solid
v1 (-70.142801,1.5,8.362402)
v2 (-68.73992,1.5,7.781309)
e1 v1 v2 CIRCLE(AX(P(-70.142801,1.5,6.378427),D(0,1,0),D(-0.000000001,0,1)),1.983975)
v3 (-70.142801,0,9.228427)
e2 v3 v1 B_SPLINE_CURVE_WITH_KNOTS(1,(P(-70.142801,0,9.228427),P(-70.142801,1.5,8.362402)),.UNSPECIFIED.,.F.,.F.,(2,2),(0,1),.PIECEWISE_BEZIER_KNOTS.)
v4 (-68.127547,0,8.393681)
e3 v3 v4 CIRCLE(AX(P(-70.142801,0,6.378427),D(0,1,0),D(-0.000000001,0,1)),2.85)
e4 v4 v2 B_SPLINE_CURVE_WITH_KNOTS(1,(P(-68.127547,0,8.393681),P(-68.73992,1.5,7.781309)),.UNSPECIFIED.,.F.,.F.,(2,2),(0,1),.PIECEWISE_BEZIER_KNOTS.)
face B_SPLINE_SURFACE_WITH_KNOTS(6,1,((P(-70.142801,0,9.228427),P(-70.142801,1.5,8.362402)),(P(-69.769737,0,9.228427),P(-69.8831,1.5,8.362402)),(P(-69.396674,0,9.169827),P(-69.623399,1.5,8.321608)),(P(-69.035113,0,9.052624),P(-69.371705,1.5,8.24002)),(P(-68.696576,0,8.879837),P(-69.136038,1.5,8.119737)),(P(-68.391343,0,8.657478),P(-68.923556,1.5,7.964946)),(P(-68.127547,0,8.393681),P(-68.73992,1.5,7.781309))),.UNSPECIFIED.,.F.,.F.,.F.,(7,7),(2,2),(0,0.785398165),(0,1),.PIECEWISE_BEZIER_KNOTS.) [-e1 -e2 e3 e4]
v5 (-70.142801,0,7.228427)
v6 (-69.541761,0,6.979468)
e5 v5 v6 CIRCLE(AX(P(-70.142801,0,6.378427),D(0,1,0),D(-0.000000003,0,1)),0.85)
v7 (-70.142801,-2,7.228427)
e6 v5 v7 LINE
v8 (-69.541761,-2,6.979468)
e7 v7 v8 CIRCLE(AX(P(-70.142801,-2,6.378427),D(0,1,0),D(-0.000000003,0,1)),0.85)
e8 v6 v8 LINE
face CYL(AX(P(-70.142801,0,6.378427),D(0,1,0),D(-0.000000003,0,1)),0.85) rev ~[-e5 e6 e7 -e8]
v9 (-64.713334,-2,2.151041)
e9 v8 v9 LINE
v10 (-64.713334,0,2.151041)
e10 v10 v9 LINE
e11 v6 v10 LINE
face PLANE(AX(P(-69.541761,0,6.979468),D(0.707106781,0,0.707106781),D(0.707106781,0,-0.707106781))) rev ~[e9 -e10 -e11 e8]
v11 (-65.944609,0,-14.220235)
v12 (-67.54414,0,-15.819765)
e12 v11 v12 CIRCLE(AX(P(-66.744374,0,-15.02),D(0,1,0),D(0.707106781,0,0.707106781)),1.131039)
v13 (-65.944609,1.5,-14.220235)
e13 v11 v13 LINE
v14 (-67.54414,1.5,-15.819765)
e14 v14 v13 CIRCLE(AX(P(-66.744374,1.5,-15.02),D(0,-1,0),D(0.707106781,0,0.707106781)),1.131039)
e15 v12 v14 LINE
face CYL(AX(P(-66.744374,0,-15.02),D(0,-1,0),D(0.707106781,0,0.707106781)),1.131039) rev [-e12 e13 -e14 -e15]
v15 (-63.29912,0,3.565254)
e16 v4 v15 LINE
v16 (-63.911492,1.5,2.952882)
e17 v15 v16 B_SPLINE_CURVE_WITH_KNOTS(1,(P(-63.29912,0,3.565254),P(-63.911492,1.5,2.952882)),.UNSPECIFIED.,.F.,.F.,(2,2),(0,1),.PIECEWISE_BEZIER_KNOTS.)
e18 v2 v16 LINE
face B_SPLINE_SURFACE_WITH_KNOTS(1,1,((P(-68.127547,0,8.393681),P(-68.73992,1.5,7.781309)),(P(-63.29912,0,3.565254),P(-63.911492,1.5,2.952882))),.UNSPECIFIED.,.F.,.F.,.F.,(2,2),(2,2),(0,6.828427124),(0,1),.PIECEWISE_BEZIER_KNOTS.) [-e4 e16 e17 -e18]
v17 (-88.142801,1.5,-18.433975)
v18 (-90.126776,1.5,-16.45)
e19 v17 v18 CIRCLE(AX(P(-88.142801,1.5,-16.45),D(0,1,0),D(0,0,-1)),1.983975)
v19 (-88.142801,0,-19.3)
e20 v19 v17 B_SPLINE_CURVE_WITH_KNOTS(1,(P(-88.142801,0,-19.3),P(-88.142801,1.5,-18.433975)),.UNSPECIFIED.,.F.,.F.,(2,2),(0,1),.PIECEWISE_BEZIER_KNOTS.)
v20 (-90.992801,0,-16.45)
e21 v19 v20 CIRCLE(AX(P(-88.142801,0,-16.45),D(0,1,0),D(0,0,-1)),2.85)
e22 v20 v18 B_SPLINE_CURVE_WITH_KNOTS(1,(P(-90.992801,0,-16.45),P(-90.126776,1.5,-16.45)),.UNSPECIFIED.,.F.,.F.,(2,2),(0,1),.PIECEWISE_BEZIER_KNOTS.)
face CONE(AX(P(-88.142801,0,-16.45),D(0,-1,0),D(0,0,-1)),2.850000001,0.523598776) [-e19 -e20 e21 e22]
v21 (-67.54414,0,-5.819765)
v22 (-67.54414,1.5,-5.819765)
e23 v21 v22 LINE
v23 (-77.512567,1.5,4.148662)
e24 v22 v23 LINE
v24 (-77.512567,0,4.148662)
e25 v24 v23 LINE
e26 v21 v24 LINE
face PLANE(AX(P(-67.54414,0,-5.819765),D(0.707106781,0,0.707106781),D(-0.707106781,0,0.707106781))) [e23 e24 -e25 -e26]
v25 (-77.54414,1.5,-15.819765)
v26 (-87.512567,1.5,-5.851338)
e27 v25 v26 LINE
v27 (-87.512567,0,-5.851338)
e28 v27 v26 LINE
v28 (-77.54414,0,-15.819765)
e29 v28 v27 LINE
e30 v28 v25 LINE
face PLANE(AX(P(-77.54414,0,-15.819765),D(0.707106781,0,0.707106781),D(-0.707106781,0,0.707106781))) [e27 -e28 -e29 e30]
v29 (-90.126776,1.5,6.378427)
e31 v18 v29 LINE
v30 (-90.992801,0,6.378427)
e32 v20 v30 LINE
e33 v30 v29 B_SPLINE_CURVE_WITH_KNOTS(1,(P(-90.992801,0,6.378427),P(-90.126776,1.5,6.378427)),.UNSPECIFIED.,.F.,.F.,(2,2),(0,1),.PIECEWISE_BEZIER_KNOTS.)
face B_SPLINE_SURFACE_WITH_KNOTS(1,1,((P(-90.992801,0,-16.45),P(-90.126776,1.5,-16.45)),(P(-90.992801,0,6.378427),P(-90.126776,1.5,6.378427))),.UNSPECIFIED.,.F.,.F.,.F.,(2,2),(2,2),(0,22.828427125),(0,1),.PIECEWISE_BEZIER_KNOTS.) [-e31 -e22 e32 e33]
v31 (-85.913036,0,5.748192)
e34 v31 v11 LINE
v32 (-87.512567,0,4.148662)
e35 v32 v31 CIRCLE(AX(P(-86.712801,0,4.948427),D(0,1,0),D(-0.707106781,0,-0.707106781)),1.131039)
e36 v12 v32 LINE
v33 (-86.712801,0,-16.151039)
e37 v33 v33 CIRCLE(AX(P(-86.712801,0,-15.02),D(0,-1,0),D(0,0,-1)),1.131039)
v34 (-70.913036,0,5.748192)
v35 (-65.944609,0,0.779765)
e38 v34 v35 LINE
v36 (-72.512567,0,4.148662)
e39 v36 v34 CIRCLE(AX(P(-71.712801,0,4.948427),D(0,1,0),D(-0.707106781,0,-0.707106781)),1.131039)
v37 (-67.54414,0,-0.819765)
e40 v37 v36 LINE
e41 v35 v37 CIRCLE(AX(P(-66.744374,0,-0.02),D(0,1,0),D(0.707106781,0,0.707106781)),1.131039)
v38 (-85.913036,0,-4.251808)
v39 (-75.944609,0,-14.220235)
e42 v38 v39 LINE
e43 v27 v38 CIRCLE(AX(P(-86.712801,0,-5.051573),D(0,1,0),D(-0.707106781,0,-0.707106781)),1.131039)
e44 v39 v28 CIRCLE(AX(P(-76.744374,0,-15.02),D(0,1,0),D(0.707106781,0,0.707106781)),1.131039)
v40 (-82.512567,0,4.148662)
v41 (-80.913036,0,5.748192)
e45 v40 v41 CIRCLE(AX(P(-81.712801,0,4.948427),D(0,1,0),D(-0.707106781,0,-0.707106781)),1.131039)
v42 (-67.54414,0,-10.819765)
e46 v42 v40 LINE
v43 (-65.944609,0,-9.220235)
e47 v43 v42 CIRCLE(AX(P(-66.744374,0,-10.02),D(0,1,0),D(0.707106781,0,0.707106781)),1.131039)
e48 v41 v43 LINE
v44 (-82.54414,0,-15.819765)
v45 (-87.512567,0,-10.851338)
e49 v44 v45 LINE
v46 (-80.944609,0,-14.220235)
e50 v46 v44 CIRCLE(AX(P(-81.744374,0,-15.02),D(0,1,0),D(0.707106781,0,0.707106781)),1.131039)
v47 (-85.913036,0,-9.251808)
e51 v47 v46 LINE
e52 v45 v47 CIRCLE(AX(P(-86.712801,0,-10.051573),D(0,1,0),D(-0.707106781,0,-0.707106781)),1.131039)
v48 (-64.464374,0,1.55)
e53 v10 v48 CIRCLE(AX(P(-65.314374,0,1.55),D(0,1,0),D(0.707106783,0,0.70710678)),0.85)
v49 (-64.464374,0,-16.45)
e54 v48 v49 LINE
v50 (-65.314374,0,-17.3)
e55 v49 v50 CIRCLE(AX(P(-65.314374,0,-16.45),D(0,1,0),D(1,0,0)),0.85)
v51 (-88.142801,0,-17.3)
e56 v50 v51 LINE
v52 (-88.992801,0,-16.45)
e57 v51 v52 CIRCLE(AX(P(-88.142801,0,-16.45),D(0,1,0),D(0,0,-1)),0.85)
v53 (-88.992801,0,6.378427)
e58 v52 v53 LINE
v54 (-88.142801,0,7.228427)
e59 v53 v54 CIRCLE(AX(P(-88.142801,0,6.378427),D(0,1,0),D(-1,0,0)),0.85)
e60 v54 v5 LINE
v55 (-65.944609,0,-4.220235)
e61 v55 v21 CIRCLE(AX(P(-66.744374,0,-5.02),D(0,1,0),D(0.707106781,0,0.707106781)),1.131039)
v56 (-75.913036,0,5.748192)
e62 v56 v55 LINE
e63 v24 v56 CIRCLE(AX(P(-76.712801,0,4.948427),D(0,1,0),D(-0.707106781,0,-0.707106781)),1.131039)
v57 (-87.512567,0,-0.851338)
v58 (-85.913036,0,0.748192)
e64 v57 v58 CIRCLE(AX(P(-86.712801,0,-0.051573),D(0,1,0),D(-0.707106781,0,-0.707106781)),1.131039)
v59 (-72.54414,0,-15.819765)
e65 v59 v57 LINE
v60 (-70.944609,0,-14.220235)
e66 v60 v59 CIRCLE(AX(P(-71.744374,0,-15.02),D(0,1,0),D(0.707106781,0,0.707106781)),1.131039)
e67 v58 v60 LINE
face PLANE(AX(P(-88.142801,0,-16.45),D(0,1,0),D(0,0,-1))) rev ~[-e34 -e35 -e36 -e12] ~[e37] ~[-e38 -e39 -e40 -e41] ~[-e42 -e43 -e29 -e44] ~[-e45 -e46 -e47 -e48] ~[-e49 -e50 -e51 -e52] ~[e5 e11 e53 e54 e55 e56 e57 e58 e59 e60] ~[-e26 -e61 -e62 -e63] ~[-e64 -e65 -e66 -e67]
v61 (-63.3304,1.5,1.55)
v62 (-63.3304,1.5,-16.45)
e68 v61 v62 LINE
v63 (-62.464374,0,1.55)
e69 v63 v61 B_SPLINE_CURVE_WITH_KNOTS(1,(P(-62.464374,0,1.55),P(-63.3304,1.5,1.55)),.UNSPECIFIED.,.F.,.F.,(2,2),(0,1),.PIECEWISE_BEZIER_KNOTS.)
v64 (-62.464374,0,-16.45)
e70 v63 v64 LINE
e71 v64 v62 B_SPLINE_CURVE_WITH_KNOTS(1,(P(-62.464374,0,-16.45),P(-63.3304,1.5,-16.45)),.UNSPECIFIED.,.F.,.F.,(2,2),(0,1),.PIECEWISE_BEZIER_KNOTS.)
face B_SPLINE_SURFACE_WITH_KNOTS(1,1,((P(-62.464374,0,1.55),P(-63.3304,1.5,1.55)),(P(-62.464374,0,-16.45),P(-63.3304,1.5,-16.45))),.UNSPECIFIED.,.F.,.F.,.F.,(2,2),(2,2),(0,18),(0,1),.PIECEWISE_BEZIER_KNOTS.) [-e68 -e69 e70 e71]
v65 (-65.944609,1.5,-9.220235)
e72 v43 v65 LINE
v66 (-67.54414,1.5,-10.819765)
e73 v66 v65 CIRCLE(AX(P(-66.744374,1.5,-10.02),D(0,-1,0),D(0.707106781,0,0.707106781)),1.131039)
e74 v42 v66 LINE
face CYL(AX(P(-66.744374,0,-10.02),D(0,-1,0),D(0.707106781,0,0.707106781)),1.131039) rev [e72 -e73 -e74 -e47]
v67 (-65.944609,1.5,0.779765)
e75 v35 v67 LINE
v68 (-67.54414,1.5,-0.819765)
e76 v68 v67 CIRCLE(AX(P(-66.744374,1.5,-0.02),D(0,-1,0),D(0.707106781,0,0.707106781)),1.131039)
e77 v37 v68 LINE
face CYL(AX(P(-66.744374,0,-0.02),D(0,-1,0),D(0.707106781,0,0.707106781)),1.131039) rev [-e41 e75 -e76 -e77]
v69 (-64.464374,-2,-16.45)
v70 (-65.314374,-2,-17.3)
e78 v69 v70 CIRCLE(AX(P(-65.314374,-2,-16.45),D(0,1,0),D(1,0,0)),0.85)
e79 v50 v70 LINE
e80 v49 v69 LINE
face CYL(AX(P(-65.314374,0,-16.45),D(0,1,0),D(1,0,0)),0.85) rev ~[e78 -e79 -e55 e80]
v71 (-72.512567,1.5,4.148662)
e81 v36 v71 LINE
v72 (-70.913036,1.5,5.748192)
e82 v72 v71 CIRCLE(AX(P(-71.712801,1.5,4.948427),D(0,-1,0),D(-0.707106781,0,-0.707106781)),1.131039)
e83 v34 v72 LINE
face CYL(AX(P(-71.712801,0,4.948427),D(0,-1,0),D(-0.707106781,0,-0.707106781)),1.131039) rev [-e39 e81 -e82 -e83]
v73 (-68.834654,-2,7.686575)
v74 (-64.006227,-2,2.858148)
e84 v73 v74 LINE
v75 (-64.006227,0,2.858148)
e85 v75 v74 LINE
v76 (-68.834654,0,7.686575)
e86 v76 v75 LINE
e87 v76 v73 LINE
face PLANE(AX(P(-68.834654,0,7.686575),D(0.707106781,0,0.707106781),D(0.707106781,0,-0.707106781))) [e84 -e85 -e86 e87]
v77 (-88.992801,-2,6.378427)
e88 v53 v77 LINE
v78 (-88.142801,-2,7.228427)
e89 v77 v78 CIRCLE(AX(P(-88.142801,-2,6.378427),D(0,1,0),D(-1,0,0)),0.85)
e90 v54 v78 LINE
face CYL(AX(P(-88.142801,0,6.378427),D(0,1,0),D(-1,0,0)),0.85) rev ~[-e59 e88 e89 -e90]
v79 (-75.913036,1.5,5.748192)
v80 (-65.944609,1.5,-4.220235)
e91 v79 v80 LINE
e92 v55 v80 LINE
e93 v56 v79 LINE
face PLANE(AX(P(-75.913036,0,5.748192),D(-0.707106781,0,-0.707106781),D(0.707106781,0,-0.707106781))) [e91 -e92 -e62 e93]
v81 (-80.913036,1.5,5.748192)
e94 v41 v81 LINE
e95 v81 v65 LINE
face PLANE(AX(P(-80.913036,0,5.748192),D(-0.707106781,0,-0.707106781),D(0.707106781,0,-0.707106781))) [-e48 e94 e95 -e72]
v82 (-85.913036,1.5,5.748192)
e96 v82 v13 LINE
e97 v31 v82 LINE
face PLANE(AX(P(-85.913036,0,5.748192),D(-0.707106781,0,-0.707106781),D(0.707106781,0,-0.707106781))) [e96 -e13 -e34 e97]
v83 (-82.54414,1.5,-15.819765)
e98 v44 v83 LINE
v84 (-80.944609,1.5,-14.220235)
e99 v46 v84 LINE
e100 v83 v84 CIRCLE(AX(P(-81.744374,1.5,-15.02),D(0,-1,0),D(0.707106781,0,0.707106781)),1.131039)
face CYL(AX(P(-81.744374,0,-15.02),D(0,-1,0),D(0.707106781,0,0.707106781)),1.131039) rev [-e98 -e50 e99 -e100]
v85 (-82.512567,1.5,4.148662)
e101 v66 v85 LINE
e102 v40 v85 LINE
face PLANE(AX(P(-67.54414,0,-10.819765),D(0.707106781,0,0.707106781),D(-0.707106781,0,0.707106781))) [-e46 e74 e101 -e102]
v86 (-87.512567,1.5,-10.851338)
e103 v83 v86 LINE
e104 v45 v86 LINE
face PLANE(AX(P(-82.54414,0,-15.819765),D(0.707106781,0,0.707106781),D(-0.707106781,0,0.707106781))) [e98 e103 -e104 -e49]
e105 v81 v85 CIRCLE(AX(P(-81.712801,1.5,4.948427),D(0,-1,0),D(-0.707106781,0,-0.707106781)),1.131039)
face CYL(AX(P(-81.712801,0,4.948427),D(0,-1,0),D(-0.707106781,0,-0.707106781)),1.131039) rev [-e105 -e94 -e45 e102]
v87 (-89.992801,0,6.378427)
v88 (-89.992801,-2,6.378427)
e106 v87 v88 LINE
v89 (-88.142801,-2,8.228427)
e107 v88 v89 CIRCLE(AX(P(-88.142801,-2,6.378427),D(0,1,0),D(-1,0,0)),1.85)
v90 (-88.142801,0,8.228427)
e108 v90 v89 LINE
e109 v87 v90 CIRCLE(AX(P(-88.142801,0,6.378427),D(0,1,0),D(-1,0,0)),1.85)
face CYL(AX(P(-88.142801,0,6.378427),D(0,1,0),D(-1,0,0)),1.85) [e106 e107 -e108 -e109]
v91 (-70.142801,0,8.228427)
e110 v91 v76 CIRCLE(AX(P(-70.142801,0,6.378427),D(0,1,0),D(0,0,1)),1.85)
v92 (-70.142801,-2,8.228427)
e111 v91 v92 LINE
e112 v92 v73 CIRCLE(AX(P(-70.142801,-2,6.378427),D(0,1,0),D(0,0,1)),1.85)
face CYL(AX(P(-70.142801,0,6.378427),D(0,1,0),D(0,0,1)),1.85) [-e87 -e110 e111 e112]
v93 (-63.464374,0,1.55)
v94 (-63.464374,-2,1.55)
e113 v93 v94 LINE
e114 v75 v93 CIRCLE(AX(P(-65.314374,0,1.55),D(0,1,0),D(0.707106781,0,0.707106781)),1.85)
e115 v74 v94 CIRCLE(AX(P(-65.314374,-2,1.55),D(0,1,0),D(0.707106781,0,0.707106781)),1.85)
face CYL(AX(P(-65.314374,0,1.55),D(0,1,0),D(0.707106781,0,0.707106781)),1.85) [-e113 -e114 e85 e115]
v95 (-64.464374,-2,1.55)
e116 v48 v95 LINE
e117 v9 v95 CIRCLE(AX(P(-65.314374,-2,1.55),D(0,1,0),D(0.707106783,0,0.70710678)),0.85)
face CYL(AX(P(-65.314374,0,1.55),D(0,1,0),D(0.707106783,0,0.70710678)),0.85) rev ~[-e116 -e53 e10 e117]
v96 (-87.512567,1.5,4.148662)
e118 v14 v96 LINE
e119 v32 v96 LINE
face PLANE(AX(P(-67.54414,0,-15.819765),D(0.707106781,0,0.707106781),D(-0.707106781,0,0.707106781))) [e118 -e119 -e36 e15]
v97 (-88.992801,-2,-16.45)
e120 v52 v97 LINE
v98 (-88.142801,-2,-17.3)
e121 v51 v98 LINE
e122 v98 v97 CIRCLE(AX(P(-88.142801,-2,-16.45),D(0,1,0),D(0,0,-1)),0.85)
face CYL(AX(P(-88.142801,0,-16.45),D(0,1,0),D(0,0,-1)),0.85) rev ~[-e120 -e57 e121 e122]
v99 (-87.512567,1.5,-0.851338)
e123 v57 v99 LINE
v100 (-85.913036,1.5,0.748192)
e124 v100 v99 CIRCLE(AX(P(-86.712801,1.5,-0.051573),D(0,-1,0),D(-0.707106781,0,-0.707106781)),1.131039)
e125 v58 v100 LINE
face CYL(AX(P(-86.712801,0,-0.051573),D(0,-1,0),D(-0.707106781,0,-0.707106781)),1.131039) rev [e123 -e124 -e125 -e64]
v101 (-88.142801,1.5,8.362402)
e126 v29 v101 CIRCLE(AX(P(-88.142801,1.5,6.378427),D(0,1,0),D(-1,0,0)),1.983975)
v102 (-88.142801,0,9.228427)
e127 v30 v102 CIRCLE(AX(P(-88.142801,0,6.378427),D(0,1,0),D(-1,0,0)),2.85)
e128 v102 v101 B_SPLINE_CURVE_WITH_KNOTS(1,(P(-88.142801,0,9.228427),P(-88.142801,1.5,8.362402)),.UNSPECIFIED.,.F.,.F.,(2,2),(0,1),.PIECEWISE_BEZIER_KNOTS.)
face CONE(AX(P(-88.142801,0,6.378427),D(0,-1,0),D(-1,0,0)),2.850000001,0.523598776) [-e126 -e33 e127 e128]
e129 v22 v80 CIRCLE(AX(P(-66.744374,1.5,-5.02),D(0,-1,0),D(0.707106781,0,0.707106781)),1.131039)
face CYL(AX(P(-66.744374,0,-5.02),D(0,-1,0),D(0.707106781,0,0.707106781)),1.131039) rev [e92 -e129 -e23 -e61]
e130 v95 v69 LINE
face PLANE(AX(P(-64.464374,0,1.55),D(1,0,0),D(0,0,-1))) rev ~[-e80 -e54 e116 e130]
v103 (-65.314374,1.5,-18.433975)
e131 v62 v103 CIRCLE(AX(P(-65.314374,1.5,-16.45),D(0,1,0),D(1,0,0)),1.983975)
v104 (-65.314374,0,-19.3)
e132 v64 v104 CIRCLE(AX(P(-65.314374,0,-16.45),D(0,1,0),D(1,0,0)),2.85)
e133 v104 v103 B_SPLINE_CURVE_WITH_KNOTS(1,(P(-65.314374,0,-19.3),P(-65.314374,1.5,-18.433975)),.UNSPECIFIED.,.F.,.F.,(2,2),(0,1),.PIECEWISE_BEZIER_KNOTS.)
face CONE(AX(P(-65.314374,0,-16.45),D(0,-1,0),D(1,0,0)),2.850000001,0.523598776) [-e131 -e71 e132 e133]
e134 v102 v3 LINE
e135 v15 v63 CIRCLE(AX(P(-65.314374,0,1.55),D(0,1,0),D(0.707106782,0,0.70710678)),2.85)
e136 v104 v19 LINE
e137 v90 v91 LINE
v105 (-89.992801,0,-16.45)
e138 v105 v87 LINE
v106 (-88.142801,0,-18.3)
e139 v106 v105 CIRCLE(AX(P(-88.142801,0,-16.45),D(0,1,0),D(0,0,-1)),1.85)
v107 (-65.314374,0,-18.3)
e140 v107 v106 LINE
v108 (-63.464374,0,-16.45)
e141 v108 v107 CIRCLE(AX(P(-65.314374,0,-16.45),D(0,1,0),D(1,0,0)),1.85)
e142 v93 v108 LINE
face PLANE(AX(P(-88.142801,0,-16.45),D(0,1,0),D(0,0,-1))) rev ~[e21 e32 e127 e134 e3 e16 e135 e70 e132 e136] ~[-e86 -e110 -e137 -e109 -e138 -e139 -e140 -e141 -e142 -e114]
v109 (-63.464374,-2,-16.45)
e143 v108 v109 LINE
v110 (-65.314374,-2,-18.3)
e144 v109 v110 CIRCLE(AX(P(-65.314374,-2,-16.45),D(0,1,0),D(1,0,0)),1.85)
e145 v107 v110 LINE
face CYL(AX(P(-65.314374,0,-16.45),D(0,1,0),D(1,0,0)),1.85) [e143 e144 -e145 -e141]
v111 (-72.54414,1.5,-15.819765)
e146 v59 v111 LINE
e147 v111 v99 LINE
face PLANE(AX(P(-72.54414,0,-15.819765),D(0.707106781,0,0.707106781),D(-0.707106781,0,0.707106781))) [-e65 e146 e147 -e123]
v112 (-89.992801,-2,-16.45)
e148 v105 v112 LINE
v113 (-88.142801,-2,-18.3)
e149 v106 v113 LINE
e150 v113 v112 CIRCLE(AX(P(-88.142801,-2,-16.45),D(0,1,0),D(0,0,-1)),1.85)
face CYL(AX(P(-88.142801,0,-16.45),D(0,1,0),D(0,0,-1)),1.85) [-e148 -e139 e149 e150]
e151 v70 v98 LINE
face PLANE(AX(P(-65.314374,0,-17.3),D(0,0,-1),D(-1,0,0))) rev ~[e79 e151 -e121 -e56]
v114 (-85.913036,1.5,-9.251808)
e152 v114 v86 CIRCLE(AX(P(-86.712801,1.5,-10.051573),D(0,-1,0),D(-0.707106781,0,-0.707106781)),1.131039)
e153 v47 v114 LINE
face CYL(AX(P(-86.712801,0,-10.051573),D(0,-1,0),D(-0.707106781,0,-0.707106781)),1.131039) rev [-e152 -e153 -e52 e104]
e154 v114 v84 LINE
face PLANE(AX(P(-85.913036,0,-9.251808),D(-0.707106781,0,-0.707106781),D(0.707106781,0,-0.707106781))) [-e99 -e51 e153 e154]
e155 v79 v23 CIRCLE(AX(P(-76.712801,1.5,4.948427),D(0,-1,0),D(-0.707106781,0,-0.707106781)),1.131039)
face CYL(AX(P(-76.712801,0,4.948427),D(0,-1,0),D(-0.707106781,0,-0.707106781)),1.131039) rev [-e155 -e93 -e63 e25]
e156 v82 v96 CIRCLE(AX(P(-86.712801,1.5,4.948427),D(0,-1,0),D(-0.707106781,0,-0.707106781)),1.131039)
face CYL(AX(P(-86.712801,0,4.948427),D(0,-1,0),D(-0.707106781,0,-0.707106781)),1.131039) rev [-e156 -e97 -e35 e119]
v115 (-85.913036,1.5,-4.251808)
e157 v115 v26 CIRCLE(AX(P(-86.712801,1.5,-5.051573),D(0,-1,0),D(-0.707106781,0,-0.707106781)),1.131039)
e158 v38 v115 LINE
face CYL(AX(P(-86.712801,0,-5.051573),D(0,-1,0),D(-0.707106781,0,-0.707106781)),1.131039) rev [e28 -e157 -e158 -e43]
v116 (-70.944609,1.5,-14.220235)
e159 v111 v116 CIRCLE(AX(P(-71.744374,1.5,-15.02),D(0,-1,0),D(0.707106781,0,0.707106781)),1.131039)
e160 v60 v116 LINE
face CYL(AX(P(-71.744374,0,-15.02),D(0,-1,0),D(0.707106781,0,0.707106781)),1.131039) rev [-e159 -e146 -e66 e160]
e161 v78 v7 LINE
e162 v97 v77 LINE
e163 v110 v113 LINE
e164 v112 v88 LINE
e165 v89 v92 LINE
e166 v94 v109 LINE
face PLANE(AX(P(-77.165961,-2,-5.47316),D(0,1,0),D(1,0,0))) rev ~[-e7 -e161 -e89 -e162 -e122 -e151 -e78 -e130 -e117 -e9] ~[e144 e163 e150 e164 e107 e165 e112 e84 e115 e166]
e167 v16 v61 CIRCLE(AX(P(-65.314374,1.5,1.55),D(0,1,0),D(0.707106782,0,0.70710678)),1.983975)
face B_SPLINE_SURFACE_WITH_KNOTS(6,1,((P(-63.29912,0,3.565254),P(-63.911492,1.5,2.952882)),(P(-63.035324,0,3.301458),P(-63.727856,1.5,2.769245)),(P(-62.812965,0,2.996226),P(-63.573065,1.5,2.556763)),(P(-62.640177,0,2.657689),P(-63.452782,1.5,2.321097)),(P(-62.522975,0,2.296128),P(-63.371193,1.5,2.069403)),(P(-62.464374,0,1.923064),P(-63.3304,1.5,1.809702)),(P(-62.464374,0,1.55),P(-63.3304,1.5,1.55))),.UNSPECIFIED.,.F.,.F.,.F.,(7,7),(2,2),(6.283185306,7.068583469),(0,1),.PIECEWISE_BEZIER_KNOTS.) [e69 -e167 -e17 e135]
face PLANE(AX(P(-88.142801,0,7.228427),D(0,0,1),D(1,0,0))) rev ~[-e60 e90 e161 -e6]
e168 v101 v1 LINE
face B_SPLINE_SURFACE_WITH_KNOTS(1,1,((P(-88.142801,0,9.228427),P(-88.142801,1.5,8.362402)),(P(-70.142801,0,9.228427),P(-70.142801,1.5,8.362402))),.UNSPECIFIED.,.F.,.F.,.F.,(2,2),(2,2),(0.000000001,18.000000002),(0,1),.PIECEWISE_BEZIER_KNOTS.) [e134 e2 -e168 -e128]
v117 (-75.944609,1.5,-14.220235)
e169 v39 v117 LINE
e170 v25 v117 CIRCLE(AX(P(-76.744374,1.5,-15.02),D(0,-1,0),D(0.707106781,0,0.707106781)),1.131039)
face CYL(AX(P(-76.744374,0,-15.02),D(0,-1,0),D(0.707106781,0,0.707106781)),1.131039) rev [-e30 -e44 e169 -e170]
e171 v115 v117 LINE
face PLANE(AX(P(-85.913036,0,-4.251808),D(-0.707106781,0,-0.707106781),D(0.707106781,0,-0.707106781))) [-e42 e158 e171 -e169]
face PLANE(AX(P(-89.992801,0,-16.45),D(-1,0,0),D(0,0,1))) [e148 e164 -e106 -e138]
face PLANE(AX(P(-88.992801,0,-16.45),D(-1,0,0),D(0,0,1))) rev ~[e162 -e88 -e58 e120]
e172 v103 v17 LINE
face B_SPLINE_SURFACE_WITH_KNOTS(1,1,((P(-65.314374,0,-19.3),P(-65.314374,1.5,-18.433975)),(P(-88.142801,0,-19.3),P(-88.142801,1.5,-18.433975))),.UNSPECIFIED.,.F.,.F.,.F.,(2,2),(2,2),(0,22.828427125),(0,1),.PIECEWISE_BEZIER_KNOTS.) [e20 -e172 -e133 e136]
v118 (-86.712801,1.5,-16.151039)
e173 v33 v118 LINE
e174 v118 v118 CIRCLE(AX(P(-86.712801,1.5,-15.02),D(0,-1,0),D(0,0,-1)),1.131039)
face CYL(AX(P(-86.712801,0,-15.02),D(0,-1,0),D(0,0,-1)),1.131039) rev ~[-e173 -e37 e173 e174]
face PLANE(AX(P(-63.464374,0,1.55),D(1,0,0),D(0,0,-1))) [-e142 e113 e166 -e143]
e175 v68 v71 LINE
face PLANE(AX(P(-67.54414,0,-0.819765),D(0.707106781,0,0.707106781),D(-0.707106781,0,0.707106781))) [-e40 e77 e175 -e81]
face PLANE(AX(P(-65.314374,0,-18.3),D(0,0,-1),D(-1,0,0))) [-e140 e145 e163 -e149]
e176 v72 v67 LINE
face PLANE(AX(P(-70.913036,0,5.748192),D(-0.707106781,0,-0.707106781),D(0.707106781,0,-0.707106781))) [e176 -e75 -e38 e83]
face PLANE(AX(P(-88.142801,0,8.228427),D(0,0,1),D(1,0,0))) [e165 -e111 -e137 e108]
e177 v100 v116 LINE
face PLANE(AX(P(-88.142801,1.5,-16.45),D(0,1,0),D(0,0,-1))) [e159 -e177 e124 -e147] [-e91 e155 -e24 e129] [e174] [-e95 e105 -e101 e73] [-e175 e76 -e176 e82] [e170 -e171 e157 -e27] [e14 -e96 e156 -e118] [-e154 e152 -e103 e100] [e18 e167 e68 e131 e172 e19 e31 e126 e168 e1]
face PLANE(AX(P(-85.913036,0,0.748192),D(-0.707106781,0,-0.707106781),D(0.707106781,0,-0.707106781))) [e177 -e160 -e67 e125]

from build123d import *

# Parameters (mm, degrees)
EXTRUDE_1_DEPTH     = 2
EXTRUDE_2_DEPTH     = 1.5
EXTRUDE_2_TAPER     = 30
CUT_EXTRUDE_1_REACH = 95.039
SKETCH_3_R          = 1.131038805


with BuildPart() as part:
    # 草图1 → 凸台-拉伸1 (new body)
    with BuildSketch(Plane(origin=(0, 0, 0), x_dir=(1, 0, 0), z_dir=(0, 1, 0))):
        with BuildLine():
            Line((-65.314374304, 18.3), (-88.142801429, 18.3))
            ThreePointArc((-88.142801429, 18.3), (-89.450948974, 17.758147545), (-89.992801429, 16.45))
            Line((-89.992801429, 16.45), (-89.992801429, -6.378427125))
            ThreePointArc((-89.992801429, -6.378427125), (-89.450948974, -7.68657467), (-88.142801429, -8.228427125))
            Line((-88.142801429, -8.228427125), (-70.142801429, -8.228427125))
            ThreePointArc((-70.142801429, -8.228427125), (-69.434837079, -8.08760426), (-68.834653884, -7.68657467))
            Line((-68.834653884, -7.68657467), (-64.006226759, -2.858147545))
            ThreePointArc((-64.006226759, -2.858147545), (-63.605197169, -2.25796435), (-63.464374304, -1.55))
            Line((-63.464374304, -1.55), (-63.464374304, 16.45))
            ThreePointArc((-63.464374304, 16.45), (-64.006226759, 17.758147545), (-65.314374304, 18.3))
        make_face()
        with BuildLine():
            Line((-65.314374304, 17.3), (-88.142801429, 17.3))
            ThreePointArc((-88.142801429, 17.3), (-88.743842193, 17.051040764), (-88.992801429, 16.45))
            Line((-88.992801429, 16.45), (-88.992801429, -6.378427125))
            ThreePointArc((-88.992801429, -6.378427125), (-88.743842193, -6.979467889), (-88.142801429, -7.228427125))
            Line((-88.142801429, -7.228427125), (-70.142801429, -7.228427125))
            ThreePointArc((-70.142801429, -7.228427125), (-69.817520511, -7.163724728), (-69.541760665, -6.979467889))
            Line((-69.541760665, -6.979467889), (-64.71333354, -2.151040764))
            ThreePointArc((-64.71333354, -2.151040764), (-64.529076702, -1.875280918), (-64.464374304, -1.55))
            Line((-64.464374304, -1.55), (-64.464374304, 16.45))
            ThreePointArc((-64.464374304, 16.45), (-64.71333354, 17.051040764), (-65.314374304, 17.3))
        make_face(mode=Mode.SUBTRACT)
    extrude(amount=-EXTRUDE_1_DEPTH)

    # 草图2 → 凸台-拉伸2 (add)
    with BuildSketch(Plane(origin=(0, 0, 0), x_dir=(1, 0, 0), z_dir=(0, 1, 0))):
        with BuildLine():
            Line((-65.314374304, 19.3), (-88.142801429, 19.3))
            ThreePointArc((-88.142801429, 19.3), (-90.158055755, 18.465254326), (-90.992801429, 16.45))
            Line((-90.992801429, 16.45), (-90.992801429, -6.378427125))
            ThreePointArc((-90.992801429, -6.378427125), (-90.158055755, -8.393681451), (-88.142801429, -9.228427125))
            Line((-88.142801429, -9.228427125), (-70.142801429, -9.228427125))
            ThreePointArc((-70.142801429, -9.228427125), (-69.052153647, -9.011483793), (-68.127547103, -8.393681451))
            Line((-68.127547103, -8.393681451), (-63.299119978, -3.565254327))
            ThreePointArc((-63.299119978, -3.565254327), (-62.681317637, -2.640647782), (-62.464374304, -1.55))
            Line((-62.464374304, -1.55), (-62.464374304, 16.45))
            ThreePointArc((-62.464374304, 16.45), (-63.299119978, 18.465254326), (-65.314374304, 19.3))
        make_face()
    extrude(amount=EXTRUDE_2_DEPTH, taper=EXTRUDE_2_TAPER)

    # 草图3 → 切除-拉伸1 (cut, up to next)
    with BuildSketch(Plane.XZ, mode=Mode.PRIVATE) as cut_extrude_1_sk1:
        with Locations(Location((-86.712801429, -15.02, 0), (0, 0, 270))):
            Circle(SKETCH_3_R)
    cut_extrude_1_tool1 = extrude(cut_extrude_1_sk1.sketch, amount=-CUT_EXTRUDE_1_REACH, mode=Mode.PRIVATE) & part.part
    # 草图3 → 切除-拉伸1 (cut, up to next)
    with BuildSketch(Plane.XZ, mode=Mode.PRIVATE) as cut_extrude_1_sk2:
        with BuildLine():
            Line((-85.91303622, -9.251807666), (-80.944609096, -14.220234791))
            ThreePointArc((-80.944609096, -14.220234791), (-80.944609096, -15.819765208), (-82.544139513, -15.819765208))
            Line((-82.544139513, -15.819765208), (-87.512566638, -10.851338084))
            ThreePointArc((-87.512566638, -10.851338084), (-87.512566638, -9.251807666), (-85.91303622, -9.251807666))
        make_face()
    cut_extrude_1_tool2 = extrude(cut_extrude_1_sk2.sketch, amount=-CUT_EXTRUDE_1_REACH, mode=Mode.PRIVATE) & part.part
    # 草图3 → 切除-拉伸1 (cut, up to next)
    with BuildSketch(Plane.XZ, mode=Mode.PRIVATE) as cut_extrude_1_sk3:
        with BuildLine():
            Line((-70.91303622, 5.748192334), (-65.944609096, 0.779765209))
            ThreePointArc((-65.944609096, 0.779765209), (-65.944609096, -0.819765208), (-67.544139513, -0.819765208))
            Line((-67.544139513, -0.819765208), (-72.512566638, 4.148661916))
            ThreePointArc((-72.512566638, 4.148661916), (-72.512566638, 5.748192334), (-70.91303622, 5.748192334))
        make_face()
    cut_extrude_1_tool3 = extrude(cut_extrude_1_sk3.sketch, amount=-CUT_EXTRUDE_1_REACH, mode=Mode.PRIVATE) & part.part
    # 草图3 → 切除-拉伸1 (cut, up to next)
    with BuildSketch(Plane.XZ, mode=Mode.PRIVATE) as cut_extrude_1_sk4:
        with BuildLine():
            Line((-75.91303622, 5.748192334), (-65.944609096, -4.220234791))
            ThreePointArc((-65.944609096, -4.220234791), (-65.944609096, -5.819765208), (-67.544139513, -5.819765208))
            Line((-67.544139513, -5.819765208), (-77.512566638, 4.148661916))
            ThreePointArc((-77.512566638, 4.148661916), (-77.512566638, 5.748192334), (-75.91303622, 5.748192334))
        make_face()
    cut_extrude_1_tool4 = extrude(cut_extrude_1_sk4.sketch, amount=-CUT_EXTRUDE_1_REACH, mode=Mode.PRIVATE) & part.part
    # 草图3 → 切除-拉伸1 (cut, up to next)
    with BuildSketch(Plane.XZ, mode=Mode.PRIVATE) as cut_extrude_1_sk5:
        with BuildLine():
            Line((-80.91303622, 5.748192334), (-65.944609096, -9.220234791))
            ThreePointArc((-65.944609096, -9.220234791), (-65.944609096, -10.819765208), (-67.544139513, -10.819765208))
            Line((-67.544139513, -10.819765208), (-82.512566638, 4.148661916))
            ThreePointArc((-82.512566638, 4.148661916), (-82.512566638, 5.748192334), (-80.91303622, 5.748192334))
        make_face()
    cut_extrude_1_tool5 = extrude(cut_extrude_1_sk5.sketch, amount=-CUT_EXTRUDE_1_REACH, mode=Mode.PRIVATE) & part.part
    # 草图3 → 切除-拉伸1 (cut, up to next)
    with BuildSketch(Plane.XZ, mode=Mode.PRIVATE) as cut_extrude_1_sk6:
        with BuildLine():
            Line((-85.91303622, 0.748192334), (-70.944609096, -14.220234791))
            ThreePointArc((-70.944609096, -14.220234791), (-70.944609096, -15.819765208), (-72.544139513, -15.819765208))
            Line((-72.544139513, -15.819765208), (-87.512566638, -0.851338084))
            ThreePointArc((-87.512566638, -0.851338084), (-87.512566638, 0.748192334), (-85.91303622, 0.748192334))
        make_face()
    cut_extrude_1_tool6 = extrude(cut_extrude_1_sk6.sketch, amount=-CUT_EXTRUDE_1_REACH, mode=Mode.PRIVATE) & part.part
    # 草图3 → 切除-拉伸1 (cut, up to next)
    with BuildSketch(Plane.XZ, mode=Mode.PRIVATE) as cut_extrude_1_sk7:
        with BuildLine():
            Line((-85.91303622, 5.748192334), (-65.944609096, -14.220234791))
            ThreePointArc((-65.944609096, -14.220234791), (-65.944609096, -15.819765208), (-67.544139513, -15.819765208))
            Line((-67.544139513, -15.819765208), (-87.512566638, 4.148661916))
            ThreePointArc((-87.512566638, 4.148661916), (-87.512566638, 5.748192334), (-85.91303622, 5.748192334))
        make_face()
    cut_extrude_1_tool7 = extrude(cut_extrude_1_sk7.sketch, amount=-CUT_EXTRUDE_1_REACH, mode=Mode.PRIVATE) & part.part
    # 草图3 → 切除-拉伸1 (cut, up to next)
    with BuildSketch(Plane.XZ, mode=Mode.PRIVATE) as cut_extrude_1_sk8:
        with BuildLine():
            Line((-85.91303622, -4.251807666), (-75.944609096, -14.220234791))
            ThreePointArc((-75.944609096, -14.220234791), (-75.944609096, -15.819765208), (-77.544139513, -15.819765208))
            Line((-77.544139513, -15.819765208), (-87.512566638, -5.851338084))
            ThreePointArc((-87.512566638, -5.851338084), (-87.512566638, -4.251807666), (-85.91303622, -4.251807666))
        make_face()
    cut_extrude_1_tool8 = extrude(cut_extrude_1_sk8.sketch, amount=-CUT_EXTRUDE_1_REACH, mode=Mode.PRIVATE) & part.part
    add(cut_extrude_1_tool1.solids().sort_by_distance((-86.712801, 0, -15.02))[0], mode=Mode.SUBTRACT)
    add(cut_extrude_1_tool2.solids().sort_by_distance((-84.228588, 0, -12.535786))[0], mode=Mode.SUBTRACT)
    add(cut_extrude_1_tool3.solids().sort_by_distance((-69.228588, 0, 2.464214))[0], mode=Mode.SUBTRACT)
    add(cut_extrude_1_tool4.solids().sort_by_distance((-71.728588, 0, -0.035786))[0], mode=Mode.SUBTRACT)
    add(cut_extrude_1_tool5.solids().sort_by_distance((-74.228588, 0, -2.535786))[0], mode=Mode.SUBTRACT)
    add(cut_extrude_1_tool6.solids().sort_by_distance((-79.228588, 0, -7.535786))[0], mode=Mode.SUBTRACT)
    add(cut_extrude_1_tool7.solids().sort_by_distance((-76.728588, 0, -5.035786))[0], mode=Mode.SUBTRACT)
    add(cut_extrude_1_tool8.solids().sort_by_distance((-81.728588, 0, -10.035786))[0], mode=Mode.SUBTRACT)


solid = part.part
